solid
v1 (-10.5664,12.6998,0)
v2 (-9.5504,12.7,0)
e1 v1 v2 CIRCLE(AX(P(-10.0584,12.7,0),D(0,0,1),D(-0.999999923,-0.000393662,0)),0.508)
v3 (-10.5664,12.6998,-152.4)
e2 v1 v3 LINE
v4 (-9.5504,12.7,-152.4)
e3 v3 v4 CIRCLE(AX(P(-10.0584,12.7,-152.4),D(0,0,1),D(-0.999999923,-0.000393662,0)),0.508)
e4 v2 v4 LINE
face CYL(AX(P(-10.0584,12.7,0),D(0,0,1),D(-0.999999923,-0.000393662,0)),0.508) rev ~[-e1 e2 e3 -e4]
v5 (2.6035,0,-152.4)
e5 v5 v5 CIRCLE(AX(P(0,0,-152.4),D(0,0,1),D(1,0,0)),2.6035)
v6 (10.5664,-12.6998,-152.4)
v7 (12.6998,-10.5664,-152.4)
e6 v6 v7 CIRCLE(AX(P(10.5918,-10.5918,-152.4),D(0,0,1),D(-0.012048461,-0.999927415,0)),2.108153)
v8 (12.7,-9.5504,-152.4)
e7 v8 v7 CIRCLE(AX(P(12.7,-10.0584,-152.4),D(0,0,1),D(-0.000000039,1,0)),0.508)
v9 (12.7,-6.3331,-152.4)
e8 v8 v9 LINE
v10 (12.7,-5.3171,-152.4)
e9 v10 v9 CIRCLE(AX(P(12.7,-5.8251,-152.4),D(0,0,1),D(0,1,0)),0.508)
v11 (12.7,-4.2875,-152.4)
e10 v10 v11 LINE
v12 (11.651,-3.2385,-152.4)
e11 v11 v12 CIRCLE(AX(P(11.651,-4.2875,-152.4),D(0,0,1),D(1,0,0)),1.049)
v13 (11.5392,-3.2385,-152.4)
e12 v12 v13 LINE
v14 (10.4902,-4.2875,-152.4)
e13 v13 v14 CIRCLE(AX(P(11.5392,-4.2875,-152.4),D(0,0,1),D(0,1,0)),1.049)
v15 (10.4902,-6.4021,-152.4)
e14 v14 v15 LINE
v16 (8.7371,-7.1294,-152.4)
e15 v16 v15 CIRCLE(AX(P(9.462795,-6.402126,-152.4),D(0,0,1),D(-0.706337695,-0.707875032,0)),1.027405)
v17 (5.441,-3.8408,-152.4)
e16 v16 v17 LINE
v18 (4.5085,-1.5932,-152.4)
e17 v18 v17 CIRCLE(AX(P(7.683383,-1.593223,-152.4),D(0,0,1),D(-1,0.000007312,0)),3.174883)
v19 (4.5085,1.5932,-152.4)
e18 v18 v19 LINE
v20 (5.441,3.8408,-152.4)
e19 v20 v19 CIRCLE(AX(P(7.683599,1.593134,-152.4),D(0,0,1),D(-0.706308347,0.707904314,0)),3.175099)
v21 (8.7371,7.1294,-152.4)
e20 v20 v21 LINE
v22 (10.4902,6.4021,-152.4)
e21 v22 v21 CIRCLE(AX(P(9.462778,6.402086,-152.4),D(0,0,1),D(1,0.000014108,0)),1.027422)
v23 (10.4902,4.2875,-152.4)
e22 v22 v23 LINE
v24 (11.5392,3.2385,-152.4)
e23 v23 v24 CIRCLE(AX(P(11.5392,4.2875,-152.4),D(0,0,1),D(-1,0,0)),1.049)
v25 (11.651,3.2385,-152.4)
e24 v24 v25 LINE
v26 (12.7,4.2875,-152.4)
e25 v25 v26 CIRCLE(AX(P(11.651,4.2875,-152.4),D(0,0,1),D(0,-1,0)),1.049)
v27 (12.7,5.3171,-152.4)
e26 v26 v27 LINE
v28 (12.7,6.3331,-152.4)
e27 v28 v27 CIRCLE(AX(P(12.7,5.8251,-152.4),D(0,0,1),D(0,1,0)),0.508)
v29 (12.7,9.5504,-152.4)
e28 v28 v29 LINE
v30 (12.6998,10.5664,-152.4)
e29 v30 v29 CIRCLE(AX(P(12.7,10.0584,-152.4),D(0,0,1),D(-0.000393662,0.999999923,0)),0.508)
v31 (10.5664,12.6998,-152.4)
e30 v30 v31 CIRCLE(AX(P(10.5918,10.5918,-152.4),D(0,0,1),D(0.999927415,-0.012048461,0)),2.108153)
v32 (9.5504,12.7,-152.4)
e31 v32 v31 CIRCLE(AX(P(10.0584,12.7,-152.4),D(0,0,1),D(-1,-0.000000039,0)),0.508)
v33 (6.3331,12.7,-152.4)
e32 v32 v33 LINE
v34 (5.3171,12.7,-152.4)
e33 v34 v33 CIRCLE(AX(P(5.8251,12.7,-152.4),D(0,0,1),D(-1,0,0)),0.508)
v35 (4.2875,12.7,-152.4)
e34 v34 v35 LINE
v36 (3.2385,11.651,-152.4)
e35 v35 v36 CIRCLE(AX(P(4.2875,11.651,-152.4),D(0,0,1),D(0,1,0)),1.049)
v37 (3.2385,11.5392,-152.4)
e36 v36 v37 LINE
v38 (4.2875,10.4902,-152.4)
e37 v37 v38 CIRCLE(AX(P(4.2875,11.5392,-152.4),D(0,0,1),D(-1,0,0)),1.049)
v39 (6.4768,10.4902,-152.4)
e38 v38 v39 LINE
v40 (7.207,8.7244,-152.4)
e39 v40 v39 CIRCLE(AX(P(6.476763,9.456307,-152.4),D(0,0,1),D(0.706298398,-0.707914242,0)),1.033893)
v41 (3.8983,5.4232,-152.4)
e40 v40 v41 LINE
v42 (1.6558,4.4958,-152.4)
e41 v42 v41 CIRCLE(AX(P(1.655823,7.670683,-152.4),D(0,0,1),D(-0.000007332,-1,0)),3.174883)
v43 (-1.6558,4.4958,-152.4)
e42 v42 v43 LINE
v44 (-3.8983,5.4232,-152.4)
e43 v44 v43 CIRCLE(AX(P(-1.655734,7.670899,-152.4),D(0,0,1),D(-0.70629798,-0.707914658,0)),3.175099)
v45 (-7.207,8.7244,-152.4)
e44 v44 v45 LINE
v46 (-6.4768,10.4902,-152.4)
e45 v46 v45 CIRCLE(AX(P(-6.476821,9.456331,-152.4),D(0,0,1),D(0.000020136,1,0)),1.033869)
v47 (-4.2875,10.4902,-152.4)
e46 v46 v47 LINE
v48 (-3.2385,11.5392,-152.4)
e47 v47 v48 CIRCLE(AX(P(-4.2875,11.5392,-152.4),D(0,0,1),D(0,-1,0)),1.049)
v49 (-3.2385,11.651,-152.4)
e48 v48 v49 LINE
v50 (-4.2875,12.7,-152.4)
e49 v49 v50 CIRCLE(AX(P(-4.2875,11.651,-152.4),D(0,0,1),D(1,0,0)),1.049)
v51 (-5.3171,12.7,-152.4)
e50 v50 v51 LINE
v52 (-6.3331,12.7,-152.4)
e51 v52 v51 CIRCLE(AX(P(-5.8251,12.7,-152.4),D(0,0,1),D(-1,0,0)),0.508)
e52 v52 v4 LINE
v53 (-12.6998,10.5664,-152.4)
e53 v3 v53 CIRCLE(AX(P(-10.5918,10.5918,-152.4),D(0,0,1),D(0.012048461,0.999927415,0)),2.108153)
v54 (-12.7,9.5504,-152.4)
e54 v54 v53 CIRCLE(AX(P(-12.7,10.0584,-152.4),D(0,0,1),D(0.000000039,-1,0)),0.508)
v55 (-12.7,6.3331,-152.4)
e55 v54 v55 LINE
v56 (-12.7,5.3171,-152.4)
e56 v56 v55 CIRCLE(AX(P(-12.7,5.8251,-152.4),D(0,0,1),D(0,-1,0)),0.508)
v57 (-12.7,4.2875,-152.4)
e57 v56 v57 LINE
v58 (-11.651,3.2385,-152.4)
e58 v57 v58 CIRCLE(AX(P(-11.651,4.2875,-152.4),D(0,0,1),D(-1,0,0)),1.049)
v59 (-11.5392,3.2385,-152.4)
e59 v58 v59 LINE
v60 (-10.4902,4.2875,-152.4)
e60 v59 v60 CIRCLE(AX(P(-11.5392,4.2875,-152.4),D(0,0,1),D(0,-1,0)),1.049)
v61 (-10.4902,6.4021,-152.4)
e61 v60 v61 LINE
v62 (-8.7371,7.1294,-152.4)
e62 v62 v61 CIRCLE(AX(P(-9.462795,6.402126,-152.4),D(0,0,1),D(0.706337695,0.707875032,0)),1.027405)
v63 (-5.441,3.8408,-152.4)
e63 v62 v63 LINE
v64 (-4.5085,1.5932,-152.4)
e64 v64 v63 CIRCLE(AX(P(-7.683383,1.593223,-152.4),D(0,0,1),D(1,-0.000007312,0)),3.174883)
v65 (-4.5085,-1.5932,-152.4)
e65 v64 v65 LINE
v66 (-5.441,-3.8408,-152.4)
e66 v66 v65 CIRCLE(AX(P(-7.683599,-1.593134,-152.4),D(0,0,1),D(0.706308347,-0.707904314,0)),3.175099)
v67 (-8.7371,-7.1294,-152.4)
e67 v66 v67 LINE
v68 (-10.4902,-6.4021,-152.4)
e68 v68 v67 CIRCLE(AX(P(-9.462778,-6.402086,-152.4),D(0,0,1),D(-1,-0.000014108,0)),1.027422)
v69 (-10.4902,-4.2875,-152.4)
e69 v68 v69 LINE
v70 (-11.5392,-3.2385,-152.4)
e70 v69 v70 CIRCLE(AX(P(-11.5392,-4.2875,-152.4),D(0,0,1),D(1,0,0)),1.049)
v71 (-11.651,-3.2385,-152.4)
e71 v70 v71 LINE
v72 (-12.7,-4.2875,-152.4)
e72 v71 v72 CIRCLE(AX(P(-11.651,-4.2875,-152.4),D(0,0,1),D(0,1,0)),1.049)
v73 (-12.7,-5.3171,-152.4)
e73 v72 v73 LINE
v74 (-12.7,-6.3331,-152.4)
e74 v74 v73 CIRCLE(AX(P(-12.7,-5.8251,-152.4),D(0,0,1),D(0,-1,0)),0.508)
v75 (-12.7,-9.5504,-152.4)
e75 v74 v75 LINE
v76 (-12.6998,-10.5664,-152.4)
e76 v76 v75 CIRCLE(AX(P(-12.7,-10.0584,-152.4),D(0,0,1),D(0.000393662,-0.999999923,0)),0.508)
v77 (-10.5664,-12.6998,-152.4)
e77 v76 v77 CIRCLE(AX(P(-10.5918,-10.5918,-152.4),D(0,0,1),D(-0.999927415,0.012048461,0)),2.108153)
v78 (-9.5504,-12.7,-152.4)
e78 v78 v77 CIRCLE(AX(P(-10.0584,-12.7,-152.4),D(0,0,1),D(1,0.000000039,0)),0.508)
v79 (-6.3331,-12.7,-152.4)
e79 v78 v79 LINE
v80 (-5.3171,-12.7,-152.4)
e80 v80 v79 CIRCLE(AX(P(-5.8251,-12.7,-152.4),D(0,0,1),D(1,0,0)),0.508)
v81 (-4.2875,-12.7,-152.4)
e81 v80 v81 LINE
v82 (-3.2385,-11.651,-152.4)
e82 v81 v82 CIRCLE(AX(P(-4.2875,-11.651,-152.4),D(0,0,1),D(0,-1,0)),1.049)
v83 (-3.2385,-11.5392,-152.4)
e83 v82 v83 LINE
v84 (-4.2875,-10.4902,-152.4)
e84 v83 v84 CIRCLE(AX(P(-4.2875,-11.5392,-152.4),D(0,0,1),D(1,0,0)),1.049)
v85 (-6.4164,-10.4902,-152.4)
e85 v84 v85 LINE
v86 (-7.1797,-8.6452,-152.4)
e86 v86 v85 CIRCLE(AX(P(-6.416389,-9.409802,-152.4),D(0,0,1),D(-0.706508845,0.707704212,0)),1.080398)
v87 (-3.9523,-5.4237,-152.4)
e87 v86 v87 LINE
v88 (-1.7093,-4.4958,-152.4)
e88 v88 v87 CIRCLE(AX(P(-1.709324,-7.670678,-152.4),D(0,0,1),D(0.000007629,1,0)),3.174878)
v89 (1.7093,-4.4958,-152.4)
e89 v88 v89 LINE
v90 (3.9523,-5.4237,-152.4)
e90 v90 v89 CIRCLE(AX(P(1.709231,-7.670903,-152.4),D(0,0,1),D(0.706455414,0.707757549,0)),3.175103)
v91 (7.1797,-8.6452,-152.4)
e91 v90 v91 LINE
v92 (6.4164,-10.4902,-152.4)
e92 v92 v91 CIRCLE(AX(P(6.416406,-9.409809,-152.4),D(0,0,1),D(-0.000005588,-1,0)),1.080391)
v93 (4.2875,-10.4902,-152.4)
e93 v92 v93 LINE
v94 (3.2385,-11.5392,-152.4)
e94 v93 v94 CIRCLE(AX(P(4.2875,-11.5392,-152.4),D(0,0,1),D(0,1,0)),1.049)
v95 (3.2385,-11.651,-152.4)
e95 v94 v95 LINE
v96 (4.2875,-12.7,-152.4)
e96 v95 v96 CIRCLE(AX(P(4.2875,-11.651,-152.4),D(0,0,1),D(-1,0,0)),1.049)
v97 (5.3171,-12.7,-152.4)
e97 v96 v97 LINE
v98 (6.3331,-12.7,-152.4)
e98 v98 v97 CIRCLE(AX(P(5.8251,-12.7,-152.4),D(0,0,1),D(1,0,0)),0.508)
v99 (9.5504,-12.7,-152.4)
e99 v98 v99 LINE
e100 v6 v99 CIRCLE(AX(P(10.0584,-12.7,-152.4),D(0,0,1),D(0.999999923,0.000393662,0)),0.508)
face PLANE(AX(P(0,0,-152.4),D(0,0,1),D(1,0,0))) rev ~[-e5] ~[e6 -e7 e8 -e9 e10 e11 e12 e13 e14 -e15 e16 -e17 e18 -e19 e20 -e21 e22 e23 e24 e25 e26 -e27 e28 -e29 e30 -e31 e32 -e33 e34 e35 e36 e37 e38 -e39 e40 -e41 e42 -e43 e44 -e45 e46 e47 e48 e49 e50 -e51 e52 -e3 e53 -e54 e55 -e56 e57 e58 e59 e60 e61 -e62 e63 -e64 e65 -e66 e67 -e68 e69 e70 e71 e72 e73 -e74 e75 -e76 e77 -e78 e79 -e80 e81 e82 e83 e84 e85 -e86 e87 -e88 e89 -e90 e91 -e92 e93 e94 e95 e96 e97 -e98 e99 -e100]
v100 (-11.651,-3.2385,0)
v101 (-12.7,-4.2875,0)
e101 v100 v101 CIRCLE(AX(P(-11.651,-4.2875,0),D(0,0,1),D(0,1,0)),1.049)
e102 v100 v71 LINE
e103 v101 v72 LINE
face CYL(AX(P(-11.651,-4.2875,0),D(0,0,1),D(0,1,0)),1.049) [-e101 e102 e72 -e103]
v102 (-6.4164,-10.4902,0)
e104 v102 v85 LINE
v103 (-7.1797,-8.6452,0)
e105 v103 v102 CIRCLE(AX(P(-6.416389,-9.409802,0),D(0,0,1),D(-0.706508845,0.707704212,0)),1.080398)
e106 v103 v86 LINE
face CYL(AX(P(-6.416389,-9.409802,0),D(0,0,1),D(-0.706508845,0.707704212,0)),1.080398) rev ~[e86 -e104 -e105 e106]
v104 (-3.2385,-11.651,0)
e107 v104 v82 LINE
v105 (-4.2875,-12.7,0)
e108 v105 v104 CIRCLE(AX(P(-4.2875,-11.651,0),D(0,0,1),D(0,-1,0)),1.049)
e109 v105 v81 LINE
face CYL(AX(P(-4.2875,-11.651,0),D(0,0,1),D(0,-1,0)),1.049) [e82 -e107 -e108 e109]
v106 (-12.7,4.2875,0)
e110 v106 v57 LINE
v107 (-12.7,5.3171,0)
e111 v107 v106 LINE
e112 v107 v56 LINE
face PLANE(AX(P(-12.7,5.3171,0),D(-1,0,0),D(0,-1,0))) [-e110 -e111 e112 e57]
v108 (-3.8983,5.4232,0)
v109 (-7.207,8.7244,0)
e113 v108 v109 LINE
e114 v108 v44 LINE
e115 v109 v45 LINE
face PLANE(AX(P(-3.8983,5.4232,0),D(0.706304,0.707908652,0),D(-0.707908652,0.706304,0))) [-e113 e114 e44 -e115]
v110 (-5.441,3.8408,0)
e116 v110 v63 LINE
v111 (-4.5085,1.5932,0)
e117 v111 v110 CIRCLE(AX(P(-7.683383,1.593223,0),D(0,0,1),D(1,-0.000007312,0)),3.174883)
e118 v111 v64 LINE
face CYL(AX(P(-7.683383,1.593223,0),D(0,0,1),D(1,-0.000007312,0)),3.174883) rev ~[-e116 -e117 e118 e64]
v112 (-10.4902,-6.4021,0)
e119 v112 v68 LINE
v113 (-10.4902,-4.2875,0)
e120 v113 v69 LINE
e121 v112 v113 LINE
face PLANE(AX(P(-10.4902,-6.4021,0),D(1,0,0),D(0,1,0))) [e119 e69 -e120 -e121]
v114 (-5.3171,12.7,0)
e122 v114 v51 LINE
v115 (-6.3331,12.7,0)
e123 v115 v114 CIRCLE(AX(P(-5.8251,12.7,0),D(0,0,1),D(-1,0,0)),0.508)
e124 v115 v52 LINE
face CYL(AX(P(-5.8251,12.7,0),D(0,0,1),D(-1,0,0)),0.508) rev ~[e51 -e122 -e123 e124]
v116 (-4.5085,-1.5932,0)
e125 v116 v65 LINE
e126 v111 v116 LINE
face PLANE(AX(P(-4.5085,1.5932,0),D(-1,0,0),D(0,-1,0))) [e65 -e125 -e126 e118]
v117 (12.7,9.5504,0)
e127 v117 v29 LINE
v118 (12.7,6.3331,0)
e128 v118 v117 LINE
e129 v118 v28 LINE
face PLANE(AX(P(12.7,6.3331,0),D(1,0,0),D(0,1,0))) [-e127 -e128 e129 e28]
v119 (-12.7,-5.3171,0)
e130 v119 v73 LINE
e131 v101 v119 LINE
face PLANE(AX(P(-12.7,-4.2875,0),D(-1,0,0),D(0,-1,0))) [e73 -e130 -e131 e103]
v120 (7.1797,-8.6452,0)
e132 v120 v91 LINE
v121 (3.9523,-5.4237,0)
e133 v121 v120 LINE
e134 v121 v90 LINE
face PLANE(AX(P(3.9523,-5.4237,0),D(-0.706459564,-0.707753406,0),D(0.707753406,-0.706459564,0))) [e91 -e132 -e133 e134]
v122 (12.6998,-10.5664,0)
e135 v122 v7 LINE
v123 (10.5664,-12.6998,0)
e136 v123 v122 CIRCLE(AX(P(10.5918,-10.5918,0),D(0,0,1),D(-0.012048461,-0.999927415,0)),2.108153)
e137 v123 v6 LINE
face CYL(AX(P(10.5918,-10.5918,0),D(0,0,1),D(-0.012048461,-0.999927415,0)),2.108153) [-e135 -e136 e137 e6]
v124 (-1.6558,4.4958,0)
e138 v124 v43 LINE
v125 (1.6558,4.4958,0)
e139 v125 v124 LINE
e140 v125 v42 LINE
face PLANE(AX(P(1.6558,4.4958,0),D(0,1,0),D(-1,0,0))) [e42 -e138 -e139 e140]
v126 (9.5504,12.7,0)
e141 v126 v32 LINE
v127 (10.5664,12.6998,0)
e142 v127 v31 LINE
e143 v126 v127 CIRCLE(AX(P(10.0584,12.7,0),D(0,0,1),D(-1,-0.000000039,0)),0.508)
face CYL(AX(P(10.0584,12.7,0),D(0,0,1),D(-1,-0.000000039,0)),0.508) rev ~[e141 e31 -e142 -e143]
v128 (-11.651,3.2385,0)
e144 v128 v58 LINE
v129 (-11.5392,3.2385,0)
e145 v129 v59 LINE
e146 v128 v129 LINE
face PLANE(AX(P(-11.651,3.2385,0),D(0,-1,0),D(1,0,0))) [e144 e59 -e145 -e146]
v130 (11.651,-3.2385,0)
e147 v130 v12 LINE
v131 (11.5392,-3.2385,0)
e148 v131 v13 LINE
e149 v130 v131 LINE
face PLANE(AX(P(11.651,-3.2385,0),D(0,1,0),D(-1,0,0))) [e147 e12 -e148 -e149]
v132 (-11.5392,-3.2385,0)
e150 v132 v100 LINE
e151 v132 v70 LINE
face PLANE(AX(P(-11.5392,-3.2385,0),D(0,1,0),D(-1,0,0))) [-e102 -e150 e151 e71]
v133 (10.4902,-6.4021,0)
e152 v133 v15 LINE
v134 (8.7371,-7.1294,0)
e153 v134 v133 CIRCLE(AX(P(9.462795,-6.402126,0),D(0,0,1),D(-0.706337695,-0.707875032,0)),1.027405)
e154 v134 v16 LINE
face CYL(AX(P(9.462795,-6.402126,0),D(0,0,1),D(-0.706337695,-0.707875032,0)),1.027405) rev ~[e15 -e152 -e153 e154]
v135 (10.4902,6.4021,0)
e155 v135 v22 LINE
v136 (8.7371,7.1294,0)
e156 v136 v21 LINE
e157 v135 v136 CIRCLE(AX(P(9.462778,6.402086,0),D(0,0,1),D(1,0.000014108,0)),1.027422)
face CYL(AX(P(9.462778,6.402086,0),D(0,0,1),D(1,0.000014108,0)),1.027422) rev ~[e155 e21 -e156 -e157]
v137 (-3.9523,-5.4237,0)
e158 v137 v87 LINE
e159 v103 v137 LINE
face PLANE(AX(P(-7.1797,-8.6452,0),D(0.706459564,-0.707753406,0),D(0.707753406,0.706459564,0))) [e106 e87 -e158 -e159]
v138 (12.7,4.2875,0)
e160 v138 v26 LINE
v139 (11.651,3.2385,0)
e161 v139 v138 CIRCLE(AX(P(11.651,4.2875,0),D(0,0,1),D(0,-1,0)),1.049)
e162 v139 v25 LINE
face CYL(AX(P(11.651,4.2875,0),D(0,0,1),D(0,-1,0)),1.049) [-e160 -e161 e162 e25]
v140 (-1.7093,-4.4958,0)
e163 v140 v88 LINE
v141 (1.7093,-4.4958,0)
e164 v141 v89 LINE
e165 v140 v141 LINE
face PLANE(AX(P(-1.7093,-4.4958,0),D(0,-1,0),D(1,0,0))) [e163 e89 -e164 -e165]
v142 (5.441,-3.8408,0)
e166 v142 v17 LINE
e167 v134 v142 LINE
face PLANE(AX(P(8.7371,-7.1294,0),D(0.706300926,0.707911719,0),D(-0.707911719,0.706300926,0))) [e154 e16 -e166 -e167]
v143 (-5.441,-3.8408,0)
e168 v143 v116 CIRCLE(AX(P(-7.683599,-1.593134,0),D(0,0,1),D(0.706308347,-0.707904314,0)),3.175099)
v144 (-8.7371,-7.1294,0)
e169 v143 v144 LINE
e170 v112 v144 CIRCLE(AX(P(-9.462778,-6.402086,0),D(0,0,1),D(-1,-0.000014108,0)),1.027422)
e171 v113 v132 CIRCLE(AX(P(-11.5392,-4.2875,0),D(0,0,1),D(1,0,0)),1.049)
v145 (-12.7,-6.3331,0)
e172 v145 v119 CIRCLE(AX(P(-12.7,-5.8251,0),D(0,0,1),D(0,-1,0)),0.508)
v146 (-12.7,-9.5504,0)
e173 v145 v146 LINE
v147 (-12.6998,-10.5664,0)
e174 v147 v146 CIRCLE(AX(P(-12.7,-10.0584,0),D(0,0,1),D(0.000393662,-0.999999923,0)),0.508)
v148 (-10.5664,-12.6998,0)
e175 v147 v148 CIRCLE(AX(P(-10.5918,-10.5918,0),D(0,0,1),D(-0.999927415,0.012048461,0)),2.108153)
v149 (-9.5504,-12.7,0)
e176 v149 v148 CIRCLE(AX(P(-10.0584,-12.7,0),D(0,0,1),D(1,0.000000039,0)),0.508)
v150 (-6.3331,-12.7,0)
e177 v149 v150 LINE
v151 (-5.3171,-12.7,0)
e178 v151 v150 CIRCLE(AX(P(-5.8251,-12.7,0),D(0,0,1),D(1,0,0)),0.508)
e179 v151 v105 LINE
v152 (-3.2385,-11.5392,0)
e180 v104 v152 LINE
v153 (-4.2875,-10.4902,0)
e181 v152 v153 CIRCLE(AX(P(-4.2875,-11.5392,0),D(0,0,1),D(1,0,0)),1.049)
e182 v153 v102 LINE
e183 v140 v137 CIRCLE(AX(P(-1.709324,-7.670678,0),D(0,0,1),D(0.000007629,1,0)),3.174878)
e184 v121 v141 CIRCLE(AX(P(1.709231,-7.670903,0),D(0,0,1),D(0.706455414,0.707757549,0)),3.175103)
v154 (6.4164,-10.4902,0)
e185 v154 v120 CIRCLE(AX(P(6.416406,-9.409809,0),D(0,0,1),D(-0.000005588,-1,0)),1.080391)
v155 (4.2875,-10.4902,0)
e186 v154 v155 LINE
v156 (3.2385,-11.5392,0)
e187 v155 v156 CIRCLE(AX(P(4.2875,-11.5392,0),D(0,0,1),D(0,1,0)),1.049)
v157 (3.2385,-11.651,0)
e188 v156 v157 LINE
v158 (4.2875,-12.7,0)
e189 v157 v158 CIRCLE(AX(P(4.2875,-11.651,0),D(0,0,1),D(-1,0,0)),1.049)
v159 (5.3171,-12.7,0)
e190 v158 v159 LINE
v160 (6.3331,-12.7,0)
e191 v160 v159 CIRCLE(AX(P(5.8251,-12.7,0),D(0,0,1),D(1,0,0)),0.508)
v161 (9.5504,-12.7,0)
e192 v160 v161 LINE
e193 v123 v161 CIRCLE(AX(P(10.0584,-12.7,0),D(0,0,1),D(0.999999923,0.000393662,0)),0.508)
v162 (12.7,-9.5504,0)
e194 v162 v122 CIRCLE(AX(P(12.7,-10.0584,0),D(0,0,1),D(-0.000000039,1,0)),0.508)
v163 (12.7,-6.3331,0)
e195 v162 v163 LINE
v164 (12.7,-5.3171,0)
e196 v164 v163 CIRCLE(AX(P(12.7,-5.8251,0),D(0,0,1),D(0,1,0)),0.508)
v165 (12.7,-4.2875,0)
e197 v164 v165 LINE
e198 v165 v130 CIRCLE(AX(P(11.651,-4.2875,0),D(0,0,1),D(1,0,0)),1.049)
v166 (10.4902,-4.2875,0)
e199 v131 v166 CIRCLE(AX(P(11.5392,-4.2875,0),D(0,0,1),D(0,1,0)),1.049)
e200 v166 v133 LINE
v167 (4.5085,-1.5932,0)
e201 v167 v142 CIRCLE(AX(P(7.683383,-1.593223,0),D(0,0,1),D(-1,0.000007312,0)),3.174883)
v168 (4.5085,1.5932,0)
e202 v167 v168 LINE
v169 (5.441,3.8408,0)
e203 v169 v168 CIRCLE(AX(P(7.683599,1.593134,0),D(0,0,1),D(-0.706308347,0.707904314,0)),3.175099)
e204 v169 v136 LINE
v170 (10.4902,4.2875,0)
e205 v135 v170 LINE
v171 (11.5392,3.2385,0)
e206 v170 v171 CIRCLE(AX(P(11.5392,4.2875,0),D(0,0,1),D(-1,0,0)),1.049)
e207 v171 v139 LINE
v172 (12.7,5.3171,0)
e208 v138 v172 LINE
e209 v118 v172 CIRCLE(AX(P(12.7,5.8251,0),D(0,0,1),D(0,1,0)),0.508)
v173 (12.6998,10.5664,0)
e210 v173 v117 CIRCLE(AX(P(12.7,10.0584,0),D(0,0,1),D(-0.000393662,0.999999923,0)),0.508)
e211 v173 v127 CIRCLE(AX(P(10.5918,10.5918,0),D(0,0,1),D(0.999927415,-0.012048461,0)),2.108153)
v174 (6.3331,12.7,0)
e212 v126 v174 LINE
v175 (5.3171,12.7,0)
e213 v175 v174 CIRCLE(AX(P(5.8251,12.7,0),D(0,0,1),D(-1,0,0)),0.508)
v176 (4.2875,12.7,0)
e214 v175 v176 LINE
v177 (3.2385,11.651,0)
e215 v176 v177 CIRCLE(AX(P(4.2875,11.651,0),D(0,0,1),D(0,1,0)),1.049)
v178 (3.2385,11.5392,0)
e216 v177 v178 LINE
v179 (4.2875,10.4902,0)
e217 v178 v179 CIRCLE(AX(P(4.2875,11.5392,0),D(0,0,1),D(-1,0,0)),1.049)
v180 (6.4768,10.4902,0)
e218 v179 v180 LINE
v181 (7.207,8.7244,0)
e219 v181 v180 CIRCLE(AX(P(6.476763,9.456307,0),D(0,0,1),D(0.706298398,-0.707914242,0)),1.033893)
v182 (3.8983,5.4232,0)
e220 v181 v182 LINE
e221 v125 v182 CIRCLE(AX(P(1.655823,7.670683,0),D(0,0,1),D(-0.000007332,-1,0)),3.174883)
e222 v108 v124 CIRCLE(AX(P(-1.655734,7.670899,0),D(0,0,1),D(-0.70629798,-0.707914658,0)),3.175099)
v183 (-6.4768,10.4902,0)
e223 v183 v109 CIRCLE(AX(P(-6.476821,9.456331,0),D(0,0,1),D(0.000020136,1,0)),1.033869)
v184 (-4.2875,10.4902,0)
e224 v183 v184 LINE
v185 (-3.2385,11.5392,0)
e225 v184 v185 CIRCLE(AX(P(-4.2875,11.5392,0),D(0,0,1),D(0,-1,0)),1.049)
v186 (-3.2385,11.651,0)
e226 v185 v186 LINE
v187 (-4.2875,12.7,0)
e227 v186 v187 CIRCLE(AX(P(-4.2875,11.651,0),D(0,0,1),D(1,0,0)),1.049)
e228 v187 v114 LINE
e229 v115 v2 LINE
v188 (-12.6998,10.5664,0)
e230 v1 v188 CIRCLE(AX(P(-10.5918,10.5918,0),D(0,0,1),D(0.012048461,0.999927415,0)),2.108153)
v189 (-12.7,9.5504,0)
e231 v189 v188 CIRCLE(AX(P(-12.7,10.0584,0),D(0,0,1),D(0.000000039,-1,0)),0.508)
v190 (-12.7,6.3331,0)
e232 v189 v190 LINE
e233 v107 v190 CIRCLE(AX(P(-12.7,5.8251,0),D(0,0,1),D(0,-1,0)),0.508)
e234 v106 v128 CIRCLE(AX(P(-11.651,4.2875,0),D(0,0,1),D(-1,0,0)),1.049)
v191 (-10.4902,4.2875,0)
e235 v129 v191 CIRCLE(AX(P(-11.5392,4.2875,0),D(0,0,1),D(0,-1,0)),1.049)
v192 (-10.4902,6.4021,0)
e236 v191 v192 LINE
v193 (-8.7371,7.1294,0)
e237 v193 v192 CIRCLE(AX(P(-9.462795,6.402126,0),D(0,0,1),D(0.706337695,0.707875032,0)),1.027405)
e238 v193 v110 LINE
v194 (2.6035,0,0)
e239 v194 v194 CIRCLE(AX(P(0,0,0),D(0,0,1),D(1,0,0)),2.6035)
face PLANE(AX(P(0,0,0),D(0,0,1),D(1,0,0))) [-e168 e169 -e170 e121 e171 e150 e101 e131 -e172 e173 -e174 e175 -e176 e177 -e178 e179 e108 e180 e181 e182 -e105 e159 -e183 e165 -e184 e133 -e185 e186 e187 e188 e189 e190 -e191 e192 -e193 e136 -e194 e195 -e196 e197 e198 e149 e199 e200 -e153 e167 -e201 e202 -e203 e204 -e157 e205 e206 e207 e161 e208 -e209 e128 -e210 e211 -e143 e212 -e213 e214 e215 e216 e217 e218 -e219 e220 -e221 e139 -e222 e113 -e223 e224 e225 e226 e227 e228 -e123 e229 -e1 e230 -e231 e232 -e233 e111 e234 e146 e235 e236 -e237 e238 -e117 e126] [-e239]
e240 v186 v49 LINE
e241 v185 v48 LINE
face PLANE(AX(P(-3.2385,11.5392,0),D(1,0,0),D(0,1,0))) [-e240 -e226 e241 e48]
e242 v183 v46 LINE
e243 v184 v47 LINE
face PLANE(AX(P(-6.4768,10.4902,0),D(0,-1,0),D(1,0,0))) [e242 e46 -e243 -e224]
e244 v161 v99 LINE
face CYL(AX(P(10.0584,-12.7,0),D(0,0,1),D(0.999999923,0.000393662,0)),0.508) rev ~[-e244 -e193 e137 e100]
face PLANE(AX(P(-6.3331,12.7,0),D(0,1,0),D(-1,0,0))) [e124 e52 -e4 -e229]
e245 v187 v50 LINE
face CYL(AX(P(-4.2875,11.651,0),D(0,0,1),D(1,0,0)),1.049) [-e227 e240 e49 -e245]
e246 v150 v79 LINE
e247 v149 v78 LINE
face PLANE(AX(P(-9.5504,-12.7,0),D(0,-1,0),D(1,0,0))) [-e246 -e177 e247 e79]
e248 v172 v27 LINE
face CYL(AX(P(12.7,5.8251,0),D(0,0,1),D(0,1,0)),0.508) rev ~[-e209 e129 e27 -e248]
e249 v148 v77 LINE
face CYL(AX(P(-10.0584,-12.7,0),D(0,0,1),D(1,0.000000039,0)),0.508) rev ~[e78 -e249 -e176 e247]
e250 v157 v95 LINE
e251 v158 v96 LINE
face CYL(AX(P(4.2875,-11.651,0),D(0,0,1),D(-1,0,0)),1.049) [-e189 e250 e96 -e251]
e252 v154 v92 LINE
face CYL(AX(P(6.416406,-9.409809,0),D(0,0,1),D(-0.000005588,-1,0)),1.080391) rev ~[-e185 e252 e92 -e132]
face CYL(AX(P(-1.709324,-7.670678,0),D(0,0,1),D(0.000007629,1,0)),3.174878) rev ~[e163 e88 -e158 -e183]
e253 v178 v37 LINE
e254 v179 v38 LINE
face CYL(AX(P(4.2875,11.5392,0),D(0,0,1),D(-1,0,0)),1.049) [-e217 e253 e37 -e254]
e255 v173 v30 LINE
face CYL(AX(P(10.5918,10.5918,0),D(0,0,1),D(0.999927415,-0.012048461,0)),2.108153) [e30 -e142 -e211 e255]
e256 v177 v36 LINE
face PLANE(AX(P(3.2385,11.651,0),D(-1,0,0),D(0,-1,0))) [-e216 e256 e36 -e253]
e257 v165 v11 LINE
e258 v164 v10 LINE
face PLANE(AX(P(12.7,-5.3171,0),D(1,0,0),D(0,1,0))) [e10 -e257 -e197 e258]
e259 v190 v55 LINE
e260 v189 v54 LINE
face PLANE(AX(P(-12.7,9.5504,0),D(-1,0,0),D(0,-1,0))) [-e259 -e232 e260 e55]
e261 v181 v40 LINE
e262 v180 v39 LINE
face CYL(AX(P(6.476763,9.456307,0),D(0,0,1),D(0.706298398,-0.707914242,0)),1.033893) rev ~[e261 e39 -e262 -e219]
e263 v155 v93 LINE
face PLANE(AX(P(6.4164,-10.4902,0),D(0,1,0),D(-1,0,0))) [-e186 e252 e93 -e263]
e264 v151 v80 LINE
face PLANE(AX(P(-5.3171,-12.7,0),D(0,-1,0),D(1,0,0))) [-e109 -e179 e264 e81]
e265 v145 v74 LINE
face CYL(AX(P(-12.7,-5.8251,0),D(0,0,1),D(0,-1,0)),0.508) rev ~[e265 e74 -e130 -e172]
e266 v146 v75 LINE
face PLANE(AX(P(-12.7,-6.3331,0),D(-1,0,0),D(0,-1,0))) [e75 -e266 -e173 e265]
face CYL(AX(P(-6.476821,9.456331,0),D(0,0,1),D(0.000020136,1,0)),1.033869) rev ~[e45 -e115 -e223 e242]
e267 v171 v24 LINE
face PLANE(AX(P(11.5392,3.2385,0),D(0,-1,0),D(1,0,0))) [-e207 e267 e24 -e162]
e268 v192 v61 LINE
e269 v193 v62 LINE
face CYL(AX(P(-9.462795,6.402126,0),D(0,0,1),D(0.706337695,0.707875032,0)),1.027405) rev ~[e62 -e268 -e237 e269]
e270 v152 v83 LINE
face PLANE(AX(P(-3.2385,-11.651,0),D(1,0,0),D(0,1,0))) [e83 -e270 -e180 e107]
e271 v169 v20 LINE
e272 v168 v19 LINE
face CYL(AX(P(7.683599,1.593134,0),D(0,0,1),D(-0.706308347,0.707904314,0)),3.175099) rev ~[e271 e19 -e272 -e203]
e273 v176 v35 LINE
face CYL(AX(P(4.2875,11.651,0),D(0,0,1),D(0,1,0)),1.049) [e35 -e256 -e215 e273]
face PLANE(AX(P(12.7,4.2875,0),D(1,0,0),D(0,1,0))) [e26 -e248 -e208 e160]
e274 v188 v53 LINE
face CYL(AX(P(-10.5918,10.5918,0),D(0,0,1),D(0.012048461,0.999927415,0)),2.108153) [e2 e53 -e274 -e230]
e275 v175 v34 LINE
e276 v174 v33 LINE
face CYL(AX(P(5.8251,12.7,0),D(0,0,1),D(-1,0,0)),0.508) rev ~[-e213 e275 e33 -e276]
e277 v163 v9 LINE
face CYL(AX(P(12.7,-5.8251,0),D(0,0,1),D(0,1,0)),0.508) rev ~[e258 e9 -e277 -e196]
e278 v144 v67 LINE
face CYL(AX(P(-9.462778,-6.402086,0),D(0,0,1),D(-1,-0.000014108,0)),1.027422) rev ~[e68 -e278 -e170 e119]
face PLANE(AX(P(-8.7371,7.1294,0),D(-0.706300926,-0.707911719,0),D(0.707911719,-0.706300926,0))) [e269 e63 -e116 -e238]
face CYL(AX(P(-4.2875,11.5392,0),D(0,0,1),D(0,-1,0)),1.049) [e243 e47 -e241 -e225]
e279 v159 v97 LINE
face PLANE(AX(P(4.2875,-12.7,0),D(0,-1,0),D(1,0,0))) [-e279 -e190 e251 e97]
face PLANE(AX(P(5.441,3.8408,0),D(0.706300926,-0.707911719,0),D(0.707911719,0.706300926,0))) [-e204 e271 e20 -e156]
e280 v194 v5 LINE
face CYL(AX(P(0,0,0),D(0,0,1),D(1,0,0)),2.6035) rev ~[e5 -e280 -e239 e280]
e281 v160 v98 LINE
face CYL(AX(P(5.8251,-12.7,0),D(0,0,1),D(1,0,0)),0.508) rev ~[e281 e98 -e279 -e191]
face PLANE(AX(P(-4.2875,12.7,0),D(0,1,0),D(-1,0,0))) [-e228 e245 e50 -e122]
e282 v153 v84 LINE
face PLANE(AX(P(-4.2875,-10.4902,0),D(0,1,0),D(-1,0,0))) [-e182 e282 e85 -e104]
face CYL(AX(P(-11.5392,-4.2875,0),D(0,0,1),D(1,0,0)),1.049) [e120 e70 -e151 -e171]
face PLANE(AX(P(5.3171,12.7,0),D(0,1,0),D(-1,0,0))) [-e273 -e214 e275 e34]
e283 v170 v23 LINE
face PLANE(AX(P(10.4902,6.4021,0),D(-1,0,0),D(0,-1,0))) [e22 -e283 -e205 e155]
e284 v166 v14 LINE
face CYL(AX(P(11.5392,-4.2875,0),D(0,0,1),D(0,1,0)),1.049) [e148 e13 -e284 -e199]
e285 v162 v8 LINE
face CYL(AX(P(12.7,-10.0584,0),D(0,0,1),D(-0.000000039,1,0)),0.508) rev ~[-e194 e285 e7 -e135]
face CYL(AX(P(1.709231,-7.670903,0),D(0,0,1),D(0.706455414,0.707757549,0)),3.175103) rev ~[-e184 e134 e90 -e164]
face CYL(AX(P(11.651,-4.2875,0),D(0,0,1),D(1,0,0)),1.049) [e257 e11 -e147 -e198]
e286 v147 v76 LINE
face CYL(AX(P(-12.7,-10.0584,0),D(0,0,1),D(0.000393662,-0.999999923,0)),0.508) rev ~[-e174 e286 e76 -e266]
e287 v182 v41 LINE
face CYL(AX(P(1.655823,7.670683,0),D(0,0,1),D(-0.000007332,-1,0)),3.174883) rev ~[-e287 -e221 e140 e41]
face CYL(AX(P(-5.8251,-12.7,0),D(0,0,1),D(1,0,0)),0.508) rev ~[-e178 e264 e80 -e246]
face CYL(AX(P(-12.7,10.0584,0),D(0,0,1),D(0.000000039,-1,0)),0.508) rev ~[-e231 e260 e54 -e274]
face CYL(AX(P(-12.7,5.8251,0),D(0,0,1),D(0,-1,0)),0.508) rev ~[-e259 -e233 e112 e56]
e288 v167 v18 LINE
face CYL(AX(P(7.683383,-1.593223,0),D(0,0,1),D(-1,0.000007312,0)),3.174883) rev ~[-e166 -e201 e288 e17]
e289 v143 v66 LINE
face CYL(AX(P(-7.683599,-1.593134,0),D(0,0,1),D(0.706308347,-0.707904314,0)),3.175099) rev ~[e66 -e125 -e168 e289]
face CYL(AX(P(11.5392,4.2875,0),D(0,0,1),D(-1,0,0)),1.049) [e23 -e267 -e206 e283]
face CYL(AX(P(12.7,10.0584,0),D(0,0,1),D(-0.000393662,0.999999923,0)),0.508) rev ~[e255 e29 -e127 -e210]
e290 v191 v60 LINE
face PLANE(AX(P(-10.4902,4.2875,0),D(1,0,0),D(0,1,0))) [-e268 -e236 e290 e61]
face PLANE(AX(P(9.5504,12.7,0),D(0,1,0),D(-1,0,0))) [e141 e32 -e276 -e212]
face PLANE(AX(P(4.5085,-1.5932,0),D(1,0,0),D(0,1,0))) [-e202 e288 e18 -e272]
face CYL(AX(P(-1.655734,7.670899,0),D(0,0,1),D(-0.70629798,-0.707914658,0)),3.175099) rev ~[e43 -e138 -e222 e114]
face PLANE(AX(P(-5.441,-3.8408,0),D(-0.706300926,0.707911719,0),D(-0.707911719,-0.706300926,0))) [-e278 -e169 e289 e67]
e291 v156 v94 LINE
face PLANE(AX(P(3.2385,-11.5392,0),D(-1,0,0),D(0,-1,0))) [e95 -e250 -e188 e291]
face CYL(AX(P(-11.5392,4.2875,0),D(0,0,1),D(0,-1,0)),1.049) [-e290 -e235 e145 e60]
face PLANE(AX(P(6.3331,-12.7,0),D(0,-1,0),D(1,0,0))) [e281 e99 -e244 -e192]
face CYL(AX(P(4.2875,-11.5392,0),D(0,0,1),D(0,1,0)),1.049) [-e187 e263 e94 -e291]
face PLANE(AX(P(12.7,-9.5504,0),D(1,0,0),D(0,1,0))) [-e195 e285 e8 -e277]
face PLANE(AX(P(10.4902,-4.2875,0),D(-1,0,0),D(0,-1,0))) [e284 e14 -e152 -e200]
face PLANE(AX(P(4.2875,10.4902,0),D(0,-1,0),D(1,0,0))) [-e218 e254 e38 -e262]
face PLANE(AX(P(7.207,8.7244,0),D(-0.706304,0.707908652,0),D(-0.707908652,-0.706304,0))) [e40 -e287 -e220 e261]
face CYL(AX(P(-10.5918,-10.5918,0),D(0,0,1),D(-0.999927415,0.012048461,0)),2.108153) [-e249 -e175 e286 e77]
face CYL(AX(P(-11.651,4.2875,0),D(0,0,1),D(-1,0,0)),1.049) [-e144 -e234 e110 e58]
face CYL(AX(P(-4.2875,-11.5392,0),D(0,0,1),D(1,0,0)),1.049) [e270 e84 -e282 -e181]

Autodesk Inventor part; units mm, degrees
ref_plane "YZ Plane" through (0, 0, 0) normal (1, 0, 0) x (0, 1, 0)
ref_plane "XZ Plane" through (0, 0, 0) normal (0, 1, 0) x (-1, 0, 0)
ref_plane "XY Plane" through (0, 0, 0) normal (0, 0, 1) x (1, 0, 0)
sketch "Sketch1" plane through (0, 0, 0) normal (0, 0, 1) x (1, 0, 0)
  circle A0 centre (0, 0) radius 2.6035
  arc A1 (-1.7093, -4.4958) -> (-3.9523, -5.4237) centre (-1.7093, -7.6708) ccw
  line L0 (-1.7093, -4.4958) -> (1.7093, -4.4958)
  arc A2 (3.9523, -5.4237) -> (1.7093, -4.4958) centre (1.7093, -7.6708) ccw
  line L1 (3.9523, -5.4237) -> (7.1797, -8.6452)
  arc A3 (6.4164, -10.4902) -> (7.1797, -8.6452) centre (6.4164, -9.4098) ccw
  line L2 (6.4164, -10.4902) -> (4.2875, -10.4902)
  arc A4 (4.2875, -10.4902) -> (3.2385, -11.5392) centre (4.2875, -11.5392) ccw
  line L3 (3.2385, -11.5392) -> (3.2385, -11.651)
  arc A5 (3.2385, -11.651) -> (4.2875, -12.7) centre (4.2875, -11.651) ccw
  line L4 (4.2875, -12.7) -> (5.3171, -12.7)
  arc A6 (6.3331, -12.7) -> (5.3171, -12.7) centre (5.8251, -12.7) ccw
  line L5 (6.3331, -12.7) -> (9.5504, -12.7)
  arc A7 (10.5664, -12.6998) -> (9.5504, -12.7) centre (10.0584, -12.7) ccw
  arc A8 (10.5664, -12.6998) -> (12.6998, -10.5664) centre (10.5918, -10.5918) ccw
  arc A9 (12.7, -9.5504) -> (12.6998, -10.5664) centre (12.7, -10.0584) ccw
  line L6 (12.7, -9.5504) -> (12.7, -6.3331)
  arc A10 (12.7, -5.3171) -> (12.7, -6.3331) centre (12.7, -5.8251) ccw
  line L7 (12.7, -5.3171) -> (12.7, -4.2875)
  arc A11 (12.7, -4.2875) -> (11.651, -3.2385) centre (11.651, -4.2875) ccw
  line L8 (11.651, -3.2385) -> (11.5392, -3.2385)
  arc A12 (11.5392, -3.2385) -> (10.4902, -4.2875) centre (11.5392, -4.2875) ccw
  line L9 (10.4902, -4.2875) -> (10.4902, -6.4021)
  arc A13 (8.7371, -7.1294) -> (10.4902, -6.4021) centre (9.4628, -6.4021) ccw
  line L10 (8.7371, -7.1294) -> (5.441, -3.8408)
  arc A14 (4.5085, -1.5932) -> (5.441, -3.8408) centre (7.6835, -1.5932) ccw
  line L11 (4.5085, -1.5932) -> (4.5085, 1.5932)
  arc A15 (5.441, 3.8408) -> (4.5085, 1.5932) centre (7.6835, 1.5932) ccw
  line L12 (5.441, 3.8408) -> (8.7371, 7.1294)
  arc A16 (10.4902, 6.4021) -> (8.7371, 7.1294) centre (9.4628, 6.4021) ccw
  line L13 (10.4902, 6.4021) -> (10.4902, 4.2875)
  arc A17 (10.4902, 4.2875) -> (11.5392, 3.2385) centre (11.5392, 4.2875) ccw
  line L14 (11.5392, 3.2385) -> (11.651, 3.2385)
  arc A18 (11.651, 3.2385) -> (12.7, 4.2875) centre (11.651, 4.2875) ccw
  line L15 (12.7, 4.2875) -> (12.7, 5.3171)
  arc A19 (12.7, 6.3331) -> (12.7, 5.3171) centre (12.7, 5.8251) ccw
  line L16 (12.7, 6.3331) -> (12.7, 9.5504)
  arc A20 (12.6998, 10.5664) -> (12.7, 9.5504) centre (12.7, 10.0584) ccw
  arc A21 (12.6998, 10.5664) -> (10.5664, 12.6998) centre (10.5918, 10.5918) ccw
  arc A22 (9.5504, 12.7) -> (10.5664, 12.6998) centre (10.0584, 12.7) ccw
  line L17 (9.5504, 12.7) -> (6.3331, 12.7)
  arc A23 (5.3171, 12.7) -> (6.3331, 12.7) centre (5.8251, 12.7) ccw
  line L18 (5.3171, 12.7) -> (4.2875, 12.7)
  arc A24 (4.2875, 12.7) -> (3.2385, 11.651) centre (4.2875, 11.651) ccw
  line L19 (3.2385, 11.651) -> (3.2385, 11.5392)
  arc A25 (3.2385, 11.5392) -> (4.2875, 10.4902) centre (4.2875, 11.5392) ccw
  line L20 (4.2875, 10.4902) -> (6.4768, 10.4902)
  arc A26 (7.207, 8.7244) -> (6.4768, 10.4902) centre (6.4768, 9.4563) ccw
  line L21 (7.207, 8.7244) -> (3.8983, 5.4232)
  arc A27 (1.6558, 4.4958) -> (3.8983, 5.4232) centre (1.6558, 7.6708) ccw
  line L22 (1.6558, 4.4958) -> (-1.6558, 4.4958)
  arc A28 (-3.8983, 5.4232) -> (-1.6558, 4.4958) centre (-1.6558, 7.6708) ccw
  line L23 (-3.8983, 5.4232) -> (-7.207, 8.7244)
  arc A29 (-6.4768, 10.4902) -> (-7.207, 8.7244) centre (-6.4768, 9.4563) ccw
  line L24 (-6.4768, 10.4902) -> (-4.2875, 10.4902)
  arc A30 (-4.2875, 10.4902) -> (-3.2385, 11.5392) centre (-4.2875, 11.5392) ccw
  line L25 (-3.2385, 11.5392) -> (-3.2385, 11.651)
  arc A31 (-3.2385, 11.651) -> (-4.2875, 12.7) centre (-4.2875, 11.651) ccw
  line L26 (-4.2875, 12.7) -> (-5.3171, 12.7)
  arc A32 (-6.3331, 12.7) -> (-5.3171, 12.7) centre (-5.8251, 12.7) ccw
  line L27 (-6.3331, 12.7) -> (-9.5504, 12.7)
  arc A33 (-10.5664, 12.6998) -> (-9.5504, 12.7) centre (-10.0584, 12.7) ccw
  arc A34 (-10.5664, 12.6998) -> (-12.6998, 10.5664) centre (-10.5918, 10.5918) ccw
  arc A35 (-12.7, 9.5504) -> (-12.6998, 10.5664) centre (-12.7, 10.0584) ccw
  line L28 (-12.7, 9.5504) -> (-12.7, 6.3331)
  arc A36 (-12.7, 5.3171) -> (-12.7, 6.3331) centre (-12.7, 5.8251) ccw
  line L29 (-12.7, 5.3171) -> (-12.7, 4.2875)
  arc A37 (-12.7, 4.2875) -> (-11.651, 3.2385) centre (-11.651, 4.2875) ccw
  line L30 (-11.651, 3.2385) -> (-11.5392, 3.2385)
  arc A38 (-11.5392, 3.2385) -> (-10.4902, 4.2875) centre (-11.5392, 4.2875) ccw
  line L31 (-10.4902, 4.2875) -> (-10.4902, 6.4021)
  arc A39 (-8.7371, 7.1294) -> (-10.4902, 6.4021) centre (-9.4628, 6.4021) ccw
  line L32 (-8.7371, 7.1294) -> (-5.441, 3.8408)
  arc A40 (-4.5085, 1.5932) -> (-5.441, 3.8408) centre (-7.6835, 1.5932) ccw
  line L33 (-4.5085, 1.5932) -> (-4.5085, -1.5932)
  arc A41 (-5.441, -3.8408) -> (-4.5085, -1.5932) centre (-7.6835, -1.5932) ccw
  line L34 (-5.441, -3.8408) -> (-8.7371, -7.1294)
  arc A42 (-10.4902, -6.4021) -> (-8.7371, -7.1294) centre (-9.4628, -6.4021) ccw
  line L35 (-10.4902, -6.4021) -> (-10.4902, -4.2875)
  arc A43 (-10.4902, -4.2875) -> (-11.5392, -3.2385) centre (-11.5392, -4.2875) ccw
  line L36 (-11.5392, -3.2385) -> (-11.651, -3.2385)
  arc A44 (-11.651, -3.2385) -> (-12.7, -4.2875) centre (-11.651, -4.2875) ccw
  line L37 (-12.7, -4.2875) -> (-12.7, -5.3171)
  arc A45 (-12.7, -6.3331) -> (-12.7, -5.3171) centre (-12.7, -5.8251) ccw
  line L38 (-12.7, -6.3331) -> (-12.7, -9.5504)
  arc A46 (-12.6998, -10.5664) -> (-12.7, -9.5504) centre (-12.7, -10.0584) ccw
  arc A47 (-12.6998, -10.5664) -> (-10.5664, -12.6998) centre (-10.5918, -10.5918) ccw
  arc A48 (-9.5504, -12.7) -> (-10.5664, -12.6998) centre (-10.0584, -12.7) ccw
  line L39 (-9.5504, -12.7) -> (-6.3331, -12.7)
  arc A49 (-5.3171, -12.7) -> (-6.3331, -12.7) centre (-5.8251, -12.7) ccw
  line L40 (-5.3171, -12.7) -> (-4.2875, -12.7)
  arc A50 (-4.2875, -12.7) -> (-3.2385, -11.651) centre (-4.2875, -11.651) ccw
  line L41 (-3.2385, -11.651) -> (-3.2385, -11.5392)
  arc A51 (-3.2385, -11.5392) -> (-4.2875, -10.4902) centre (-4.2875, -11.5392) ccw
  line L42 (-4.2875, -10.4902) -> (-6.4164, -10.4902)
  arc A52 (-7.1797, -8.6452) -> (-6.4164, -10.4902) centre (-6.4164, -9.4098) ccw
  line L43 (-7.1797, -8.6452) -> (-3.9523, -5.4237)
extrude "Extrusion1" add sketch "Sketch1" against normal blind 152.4
properties part number "1010 6in"
